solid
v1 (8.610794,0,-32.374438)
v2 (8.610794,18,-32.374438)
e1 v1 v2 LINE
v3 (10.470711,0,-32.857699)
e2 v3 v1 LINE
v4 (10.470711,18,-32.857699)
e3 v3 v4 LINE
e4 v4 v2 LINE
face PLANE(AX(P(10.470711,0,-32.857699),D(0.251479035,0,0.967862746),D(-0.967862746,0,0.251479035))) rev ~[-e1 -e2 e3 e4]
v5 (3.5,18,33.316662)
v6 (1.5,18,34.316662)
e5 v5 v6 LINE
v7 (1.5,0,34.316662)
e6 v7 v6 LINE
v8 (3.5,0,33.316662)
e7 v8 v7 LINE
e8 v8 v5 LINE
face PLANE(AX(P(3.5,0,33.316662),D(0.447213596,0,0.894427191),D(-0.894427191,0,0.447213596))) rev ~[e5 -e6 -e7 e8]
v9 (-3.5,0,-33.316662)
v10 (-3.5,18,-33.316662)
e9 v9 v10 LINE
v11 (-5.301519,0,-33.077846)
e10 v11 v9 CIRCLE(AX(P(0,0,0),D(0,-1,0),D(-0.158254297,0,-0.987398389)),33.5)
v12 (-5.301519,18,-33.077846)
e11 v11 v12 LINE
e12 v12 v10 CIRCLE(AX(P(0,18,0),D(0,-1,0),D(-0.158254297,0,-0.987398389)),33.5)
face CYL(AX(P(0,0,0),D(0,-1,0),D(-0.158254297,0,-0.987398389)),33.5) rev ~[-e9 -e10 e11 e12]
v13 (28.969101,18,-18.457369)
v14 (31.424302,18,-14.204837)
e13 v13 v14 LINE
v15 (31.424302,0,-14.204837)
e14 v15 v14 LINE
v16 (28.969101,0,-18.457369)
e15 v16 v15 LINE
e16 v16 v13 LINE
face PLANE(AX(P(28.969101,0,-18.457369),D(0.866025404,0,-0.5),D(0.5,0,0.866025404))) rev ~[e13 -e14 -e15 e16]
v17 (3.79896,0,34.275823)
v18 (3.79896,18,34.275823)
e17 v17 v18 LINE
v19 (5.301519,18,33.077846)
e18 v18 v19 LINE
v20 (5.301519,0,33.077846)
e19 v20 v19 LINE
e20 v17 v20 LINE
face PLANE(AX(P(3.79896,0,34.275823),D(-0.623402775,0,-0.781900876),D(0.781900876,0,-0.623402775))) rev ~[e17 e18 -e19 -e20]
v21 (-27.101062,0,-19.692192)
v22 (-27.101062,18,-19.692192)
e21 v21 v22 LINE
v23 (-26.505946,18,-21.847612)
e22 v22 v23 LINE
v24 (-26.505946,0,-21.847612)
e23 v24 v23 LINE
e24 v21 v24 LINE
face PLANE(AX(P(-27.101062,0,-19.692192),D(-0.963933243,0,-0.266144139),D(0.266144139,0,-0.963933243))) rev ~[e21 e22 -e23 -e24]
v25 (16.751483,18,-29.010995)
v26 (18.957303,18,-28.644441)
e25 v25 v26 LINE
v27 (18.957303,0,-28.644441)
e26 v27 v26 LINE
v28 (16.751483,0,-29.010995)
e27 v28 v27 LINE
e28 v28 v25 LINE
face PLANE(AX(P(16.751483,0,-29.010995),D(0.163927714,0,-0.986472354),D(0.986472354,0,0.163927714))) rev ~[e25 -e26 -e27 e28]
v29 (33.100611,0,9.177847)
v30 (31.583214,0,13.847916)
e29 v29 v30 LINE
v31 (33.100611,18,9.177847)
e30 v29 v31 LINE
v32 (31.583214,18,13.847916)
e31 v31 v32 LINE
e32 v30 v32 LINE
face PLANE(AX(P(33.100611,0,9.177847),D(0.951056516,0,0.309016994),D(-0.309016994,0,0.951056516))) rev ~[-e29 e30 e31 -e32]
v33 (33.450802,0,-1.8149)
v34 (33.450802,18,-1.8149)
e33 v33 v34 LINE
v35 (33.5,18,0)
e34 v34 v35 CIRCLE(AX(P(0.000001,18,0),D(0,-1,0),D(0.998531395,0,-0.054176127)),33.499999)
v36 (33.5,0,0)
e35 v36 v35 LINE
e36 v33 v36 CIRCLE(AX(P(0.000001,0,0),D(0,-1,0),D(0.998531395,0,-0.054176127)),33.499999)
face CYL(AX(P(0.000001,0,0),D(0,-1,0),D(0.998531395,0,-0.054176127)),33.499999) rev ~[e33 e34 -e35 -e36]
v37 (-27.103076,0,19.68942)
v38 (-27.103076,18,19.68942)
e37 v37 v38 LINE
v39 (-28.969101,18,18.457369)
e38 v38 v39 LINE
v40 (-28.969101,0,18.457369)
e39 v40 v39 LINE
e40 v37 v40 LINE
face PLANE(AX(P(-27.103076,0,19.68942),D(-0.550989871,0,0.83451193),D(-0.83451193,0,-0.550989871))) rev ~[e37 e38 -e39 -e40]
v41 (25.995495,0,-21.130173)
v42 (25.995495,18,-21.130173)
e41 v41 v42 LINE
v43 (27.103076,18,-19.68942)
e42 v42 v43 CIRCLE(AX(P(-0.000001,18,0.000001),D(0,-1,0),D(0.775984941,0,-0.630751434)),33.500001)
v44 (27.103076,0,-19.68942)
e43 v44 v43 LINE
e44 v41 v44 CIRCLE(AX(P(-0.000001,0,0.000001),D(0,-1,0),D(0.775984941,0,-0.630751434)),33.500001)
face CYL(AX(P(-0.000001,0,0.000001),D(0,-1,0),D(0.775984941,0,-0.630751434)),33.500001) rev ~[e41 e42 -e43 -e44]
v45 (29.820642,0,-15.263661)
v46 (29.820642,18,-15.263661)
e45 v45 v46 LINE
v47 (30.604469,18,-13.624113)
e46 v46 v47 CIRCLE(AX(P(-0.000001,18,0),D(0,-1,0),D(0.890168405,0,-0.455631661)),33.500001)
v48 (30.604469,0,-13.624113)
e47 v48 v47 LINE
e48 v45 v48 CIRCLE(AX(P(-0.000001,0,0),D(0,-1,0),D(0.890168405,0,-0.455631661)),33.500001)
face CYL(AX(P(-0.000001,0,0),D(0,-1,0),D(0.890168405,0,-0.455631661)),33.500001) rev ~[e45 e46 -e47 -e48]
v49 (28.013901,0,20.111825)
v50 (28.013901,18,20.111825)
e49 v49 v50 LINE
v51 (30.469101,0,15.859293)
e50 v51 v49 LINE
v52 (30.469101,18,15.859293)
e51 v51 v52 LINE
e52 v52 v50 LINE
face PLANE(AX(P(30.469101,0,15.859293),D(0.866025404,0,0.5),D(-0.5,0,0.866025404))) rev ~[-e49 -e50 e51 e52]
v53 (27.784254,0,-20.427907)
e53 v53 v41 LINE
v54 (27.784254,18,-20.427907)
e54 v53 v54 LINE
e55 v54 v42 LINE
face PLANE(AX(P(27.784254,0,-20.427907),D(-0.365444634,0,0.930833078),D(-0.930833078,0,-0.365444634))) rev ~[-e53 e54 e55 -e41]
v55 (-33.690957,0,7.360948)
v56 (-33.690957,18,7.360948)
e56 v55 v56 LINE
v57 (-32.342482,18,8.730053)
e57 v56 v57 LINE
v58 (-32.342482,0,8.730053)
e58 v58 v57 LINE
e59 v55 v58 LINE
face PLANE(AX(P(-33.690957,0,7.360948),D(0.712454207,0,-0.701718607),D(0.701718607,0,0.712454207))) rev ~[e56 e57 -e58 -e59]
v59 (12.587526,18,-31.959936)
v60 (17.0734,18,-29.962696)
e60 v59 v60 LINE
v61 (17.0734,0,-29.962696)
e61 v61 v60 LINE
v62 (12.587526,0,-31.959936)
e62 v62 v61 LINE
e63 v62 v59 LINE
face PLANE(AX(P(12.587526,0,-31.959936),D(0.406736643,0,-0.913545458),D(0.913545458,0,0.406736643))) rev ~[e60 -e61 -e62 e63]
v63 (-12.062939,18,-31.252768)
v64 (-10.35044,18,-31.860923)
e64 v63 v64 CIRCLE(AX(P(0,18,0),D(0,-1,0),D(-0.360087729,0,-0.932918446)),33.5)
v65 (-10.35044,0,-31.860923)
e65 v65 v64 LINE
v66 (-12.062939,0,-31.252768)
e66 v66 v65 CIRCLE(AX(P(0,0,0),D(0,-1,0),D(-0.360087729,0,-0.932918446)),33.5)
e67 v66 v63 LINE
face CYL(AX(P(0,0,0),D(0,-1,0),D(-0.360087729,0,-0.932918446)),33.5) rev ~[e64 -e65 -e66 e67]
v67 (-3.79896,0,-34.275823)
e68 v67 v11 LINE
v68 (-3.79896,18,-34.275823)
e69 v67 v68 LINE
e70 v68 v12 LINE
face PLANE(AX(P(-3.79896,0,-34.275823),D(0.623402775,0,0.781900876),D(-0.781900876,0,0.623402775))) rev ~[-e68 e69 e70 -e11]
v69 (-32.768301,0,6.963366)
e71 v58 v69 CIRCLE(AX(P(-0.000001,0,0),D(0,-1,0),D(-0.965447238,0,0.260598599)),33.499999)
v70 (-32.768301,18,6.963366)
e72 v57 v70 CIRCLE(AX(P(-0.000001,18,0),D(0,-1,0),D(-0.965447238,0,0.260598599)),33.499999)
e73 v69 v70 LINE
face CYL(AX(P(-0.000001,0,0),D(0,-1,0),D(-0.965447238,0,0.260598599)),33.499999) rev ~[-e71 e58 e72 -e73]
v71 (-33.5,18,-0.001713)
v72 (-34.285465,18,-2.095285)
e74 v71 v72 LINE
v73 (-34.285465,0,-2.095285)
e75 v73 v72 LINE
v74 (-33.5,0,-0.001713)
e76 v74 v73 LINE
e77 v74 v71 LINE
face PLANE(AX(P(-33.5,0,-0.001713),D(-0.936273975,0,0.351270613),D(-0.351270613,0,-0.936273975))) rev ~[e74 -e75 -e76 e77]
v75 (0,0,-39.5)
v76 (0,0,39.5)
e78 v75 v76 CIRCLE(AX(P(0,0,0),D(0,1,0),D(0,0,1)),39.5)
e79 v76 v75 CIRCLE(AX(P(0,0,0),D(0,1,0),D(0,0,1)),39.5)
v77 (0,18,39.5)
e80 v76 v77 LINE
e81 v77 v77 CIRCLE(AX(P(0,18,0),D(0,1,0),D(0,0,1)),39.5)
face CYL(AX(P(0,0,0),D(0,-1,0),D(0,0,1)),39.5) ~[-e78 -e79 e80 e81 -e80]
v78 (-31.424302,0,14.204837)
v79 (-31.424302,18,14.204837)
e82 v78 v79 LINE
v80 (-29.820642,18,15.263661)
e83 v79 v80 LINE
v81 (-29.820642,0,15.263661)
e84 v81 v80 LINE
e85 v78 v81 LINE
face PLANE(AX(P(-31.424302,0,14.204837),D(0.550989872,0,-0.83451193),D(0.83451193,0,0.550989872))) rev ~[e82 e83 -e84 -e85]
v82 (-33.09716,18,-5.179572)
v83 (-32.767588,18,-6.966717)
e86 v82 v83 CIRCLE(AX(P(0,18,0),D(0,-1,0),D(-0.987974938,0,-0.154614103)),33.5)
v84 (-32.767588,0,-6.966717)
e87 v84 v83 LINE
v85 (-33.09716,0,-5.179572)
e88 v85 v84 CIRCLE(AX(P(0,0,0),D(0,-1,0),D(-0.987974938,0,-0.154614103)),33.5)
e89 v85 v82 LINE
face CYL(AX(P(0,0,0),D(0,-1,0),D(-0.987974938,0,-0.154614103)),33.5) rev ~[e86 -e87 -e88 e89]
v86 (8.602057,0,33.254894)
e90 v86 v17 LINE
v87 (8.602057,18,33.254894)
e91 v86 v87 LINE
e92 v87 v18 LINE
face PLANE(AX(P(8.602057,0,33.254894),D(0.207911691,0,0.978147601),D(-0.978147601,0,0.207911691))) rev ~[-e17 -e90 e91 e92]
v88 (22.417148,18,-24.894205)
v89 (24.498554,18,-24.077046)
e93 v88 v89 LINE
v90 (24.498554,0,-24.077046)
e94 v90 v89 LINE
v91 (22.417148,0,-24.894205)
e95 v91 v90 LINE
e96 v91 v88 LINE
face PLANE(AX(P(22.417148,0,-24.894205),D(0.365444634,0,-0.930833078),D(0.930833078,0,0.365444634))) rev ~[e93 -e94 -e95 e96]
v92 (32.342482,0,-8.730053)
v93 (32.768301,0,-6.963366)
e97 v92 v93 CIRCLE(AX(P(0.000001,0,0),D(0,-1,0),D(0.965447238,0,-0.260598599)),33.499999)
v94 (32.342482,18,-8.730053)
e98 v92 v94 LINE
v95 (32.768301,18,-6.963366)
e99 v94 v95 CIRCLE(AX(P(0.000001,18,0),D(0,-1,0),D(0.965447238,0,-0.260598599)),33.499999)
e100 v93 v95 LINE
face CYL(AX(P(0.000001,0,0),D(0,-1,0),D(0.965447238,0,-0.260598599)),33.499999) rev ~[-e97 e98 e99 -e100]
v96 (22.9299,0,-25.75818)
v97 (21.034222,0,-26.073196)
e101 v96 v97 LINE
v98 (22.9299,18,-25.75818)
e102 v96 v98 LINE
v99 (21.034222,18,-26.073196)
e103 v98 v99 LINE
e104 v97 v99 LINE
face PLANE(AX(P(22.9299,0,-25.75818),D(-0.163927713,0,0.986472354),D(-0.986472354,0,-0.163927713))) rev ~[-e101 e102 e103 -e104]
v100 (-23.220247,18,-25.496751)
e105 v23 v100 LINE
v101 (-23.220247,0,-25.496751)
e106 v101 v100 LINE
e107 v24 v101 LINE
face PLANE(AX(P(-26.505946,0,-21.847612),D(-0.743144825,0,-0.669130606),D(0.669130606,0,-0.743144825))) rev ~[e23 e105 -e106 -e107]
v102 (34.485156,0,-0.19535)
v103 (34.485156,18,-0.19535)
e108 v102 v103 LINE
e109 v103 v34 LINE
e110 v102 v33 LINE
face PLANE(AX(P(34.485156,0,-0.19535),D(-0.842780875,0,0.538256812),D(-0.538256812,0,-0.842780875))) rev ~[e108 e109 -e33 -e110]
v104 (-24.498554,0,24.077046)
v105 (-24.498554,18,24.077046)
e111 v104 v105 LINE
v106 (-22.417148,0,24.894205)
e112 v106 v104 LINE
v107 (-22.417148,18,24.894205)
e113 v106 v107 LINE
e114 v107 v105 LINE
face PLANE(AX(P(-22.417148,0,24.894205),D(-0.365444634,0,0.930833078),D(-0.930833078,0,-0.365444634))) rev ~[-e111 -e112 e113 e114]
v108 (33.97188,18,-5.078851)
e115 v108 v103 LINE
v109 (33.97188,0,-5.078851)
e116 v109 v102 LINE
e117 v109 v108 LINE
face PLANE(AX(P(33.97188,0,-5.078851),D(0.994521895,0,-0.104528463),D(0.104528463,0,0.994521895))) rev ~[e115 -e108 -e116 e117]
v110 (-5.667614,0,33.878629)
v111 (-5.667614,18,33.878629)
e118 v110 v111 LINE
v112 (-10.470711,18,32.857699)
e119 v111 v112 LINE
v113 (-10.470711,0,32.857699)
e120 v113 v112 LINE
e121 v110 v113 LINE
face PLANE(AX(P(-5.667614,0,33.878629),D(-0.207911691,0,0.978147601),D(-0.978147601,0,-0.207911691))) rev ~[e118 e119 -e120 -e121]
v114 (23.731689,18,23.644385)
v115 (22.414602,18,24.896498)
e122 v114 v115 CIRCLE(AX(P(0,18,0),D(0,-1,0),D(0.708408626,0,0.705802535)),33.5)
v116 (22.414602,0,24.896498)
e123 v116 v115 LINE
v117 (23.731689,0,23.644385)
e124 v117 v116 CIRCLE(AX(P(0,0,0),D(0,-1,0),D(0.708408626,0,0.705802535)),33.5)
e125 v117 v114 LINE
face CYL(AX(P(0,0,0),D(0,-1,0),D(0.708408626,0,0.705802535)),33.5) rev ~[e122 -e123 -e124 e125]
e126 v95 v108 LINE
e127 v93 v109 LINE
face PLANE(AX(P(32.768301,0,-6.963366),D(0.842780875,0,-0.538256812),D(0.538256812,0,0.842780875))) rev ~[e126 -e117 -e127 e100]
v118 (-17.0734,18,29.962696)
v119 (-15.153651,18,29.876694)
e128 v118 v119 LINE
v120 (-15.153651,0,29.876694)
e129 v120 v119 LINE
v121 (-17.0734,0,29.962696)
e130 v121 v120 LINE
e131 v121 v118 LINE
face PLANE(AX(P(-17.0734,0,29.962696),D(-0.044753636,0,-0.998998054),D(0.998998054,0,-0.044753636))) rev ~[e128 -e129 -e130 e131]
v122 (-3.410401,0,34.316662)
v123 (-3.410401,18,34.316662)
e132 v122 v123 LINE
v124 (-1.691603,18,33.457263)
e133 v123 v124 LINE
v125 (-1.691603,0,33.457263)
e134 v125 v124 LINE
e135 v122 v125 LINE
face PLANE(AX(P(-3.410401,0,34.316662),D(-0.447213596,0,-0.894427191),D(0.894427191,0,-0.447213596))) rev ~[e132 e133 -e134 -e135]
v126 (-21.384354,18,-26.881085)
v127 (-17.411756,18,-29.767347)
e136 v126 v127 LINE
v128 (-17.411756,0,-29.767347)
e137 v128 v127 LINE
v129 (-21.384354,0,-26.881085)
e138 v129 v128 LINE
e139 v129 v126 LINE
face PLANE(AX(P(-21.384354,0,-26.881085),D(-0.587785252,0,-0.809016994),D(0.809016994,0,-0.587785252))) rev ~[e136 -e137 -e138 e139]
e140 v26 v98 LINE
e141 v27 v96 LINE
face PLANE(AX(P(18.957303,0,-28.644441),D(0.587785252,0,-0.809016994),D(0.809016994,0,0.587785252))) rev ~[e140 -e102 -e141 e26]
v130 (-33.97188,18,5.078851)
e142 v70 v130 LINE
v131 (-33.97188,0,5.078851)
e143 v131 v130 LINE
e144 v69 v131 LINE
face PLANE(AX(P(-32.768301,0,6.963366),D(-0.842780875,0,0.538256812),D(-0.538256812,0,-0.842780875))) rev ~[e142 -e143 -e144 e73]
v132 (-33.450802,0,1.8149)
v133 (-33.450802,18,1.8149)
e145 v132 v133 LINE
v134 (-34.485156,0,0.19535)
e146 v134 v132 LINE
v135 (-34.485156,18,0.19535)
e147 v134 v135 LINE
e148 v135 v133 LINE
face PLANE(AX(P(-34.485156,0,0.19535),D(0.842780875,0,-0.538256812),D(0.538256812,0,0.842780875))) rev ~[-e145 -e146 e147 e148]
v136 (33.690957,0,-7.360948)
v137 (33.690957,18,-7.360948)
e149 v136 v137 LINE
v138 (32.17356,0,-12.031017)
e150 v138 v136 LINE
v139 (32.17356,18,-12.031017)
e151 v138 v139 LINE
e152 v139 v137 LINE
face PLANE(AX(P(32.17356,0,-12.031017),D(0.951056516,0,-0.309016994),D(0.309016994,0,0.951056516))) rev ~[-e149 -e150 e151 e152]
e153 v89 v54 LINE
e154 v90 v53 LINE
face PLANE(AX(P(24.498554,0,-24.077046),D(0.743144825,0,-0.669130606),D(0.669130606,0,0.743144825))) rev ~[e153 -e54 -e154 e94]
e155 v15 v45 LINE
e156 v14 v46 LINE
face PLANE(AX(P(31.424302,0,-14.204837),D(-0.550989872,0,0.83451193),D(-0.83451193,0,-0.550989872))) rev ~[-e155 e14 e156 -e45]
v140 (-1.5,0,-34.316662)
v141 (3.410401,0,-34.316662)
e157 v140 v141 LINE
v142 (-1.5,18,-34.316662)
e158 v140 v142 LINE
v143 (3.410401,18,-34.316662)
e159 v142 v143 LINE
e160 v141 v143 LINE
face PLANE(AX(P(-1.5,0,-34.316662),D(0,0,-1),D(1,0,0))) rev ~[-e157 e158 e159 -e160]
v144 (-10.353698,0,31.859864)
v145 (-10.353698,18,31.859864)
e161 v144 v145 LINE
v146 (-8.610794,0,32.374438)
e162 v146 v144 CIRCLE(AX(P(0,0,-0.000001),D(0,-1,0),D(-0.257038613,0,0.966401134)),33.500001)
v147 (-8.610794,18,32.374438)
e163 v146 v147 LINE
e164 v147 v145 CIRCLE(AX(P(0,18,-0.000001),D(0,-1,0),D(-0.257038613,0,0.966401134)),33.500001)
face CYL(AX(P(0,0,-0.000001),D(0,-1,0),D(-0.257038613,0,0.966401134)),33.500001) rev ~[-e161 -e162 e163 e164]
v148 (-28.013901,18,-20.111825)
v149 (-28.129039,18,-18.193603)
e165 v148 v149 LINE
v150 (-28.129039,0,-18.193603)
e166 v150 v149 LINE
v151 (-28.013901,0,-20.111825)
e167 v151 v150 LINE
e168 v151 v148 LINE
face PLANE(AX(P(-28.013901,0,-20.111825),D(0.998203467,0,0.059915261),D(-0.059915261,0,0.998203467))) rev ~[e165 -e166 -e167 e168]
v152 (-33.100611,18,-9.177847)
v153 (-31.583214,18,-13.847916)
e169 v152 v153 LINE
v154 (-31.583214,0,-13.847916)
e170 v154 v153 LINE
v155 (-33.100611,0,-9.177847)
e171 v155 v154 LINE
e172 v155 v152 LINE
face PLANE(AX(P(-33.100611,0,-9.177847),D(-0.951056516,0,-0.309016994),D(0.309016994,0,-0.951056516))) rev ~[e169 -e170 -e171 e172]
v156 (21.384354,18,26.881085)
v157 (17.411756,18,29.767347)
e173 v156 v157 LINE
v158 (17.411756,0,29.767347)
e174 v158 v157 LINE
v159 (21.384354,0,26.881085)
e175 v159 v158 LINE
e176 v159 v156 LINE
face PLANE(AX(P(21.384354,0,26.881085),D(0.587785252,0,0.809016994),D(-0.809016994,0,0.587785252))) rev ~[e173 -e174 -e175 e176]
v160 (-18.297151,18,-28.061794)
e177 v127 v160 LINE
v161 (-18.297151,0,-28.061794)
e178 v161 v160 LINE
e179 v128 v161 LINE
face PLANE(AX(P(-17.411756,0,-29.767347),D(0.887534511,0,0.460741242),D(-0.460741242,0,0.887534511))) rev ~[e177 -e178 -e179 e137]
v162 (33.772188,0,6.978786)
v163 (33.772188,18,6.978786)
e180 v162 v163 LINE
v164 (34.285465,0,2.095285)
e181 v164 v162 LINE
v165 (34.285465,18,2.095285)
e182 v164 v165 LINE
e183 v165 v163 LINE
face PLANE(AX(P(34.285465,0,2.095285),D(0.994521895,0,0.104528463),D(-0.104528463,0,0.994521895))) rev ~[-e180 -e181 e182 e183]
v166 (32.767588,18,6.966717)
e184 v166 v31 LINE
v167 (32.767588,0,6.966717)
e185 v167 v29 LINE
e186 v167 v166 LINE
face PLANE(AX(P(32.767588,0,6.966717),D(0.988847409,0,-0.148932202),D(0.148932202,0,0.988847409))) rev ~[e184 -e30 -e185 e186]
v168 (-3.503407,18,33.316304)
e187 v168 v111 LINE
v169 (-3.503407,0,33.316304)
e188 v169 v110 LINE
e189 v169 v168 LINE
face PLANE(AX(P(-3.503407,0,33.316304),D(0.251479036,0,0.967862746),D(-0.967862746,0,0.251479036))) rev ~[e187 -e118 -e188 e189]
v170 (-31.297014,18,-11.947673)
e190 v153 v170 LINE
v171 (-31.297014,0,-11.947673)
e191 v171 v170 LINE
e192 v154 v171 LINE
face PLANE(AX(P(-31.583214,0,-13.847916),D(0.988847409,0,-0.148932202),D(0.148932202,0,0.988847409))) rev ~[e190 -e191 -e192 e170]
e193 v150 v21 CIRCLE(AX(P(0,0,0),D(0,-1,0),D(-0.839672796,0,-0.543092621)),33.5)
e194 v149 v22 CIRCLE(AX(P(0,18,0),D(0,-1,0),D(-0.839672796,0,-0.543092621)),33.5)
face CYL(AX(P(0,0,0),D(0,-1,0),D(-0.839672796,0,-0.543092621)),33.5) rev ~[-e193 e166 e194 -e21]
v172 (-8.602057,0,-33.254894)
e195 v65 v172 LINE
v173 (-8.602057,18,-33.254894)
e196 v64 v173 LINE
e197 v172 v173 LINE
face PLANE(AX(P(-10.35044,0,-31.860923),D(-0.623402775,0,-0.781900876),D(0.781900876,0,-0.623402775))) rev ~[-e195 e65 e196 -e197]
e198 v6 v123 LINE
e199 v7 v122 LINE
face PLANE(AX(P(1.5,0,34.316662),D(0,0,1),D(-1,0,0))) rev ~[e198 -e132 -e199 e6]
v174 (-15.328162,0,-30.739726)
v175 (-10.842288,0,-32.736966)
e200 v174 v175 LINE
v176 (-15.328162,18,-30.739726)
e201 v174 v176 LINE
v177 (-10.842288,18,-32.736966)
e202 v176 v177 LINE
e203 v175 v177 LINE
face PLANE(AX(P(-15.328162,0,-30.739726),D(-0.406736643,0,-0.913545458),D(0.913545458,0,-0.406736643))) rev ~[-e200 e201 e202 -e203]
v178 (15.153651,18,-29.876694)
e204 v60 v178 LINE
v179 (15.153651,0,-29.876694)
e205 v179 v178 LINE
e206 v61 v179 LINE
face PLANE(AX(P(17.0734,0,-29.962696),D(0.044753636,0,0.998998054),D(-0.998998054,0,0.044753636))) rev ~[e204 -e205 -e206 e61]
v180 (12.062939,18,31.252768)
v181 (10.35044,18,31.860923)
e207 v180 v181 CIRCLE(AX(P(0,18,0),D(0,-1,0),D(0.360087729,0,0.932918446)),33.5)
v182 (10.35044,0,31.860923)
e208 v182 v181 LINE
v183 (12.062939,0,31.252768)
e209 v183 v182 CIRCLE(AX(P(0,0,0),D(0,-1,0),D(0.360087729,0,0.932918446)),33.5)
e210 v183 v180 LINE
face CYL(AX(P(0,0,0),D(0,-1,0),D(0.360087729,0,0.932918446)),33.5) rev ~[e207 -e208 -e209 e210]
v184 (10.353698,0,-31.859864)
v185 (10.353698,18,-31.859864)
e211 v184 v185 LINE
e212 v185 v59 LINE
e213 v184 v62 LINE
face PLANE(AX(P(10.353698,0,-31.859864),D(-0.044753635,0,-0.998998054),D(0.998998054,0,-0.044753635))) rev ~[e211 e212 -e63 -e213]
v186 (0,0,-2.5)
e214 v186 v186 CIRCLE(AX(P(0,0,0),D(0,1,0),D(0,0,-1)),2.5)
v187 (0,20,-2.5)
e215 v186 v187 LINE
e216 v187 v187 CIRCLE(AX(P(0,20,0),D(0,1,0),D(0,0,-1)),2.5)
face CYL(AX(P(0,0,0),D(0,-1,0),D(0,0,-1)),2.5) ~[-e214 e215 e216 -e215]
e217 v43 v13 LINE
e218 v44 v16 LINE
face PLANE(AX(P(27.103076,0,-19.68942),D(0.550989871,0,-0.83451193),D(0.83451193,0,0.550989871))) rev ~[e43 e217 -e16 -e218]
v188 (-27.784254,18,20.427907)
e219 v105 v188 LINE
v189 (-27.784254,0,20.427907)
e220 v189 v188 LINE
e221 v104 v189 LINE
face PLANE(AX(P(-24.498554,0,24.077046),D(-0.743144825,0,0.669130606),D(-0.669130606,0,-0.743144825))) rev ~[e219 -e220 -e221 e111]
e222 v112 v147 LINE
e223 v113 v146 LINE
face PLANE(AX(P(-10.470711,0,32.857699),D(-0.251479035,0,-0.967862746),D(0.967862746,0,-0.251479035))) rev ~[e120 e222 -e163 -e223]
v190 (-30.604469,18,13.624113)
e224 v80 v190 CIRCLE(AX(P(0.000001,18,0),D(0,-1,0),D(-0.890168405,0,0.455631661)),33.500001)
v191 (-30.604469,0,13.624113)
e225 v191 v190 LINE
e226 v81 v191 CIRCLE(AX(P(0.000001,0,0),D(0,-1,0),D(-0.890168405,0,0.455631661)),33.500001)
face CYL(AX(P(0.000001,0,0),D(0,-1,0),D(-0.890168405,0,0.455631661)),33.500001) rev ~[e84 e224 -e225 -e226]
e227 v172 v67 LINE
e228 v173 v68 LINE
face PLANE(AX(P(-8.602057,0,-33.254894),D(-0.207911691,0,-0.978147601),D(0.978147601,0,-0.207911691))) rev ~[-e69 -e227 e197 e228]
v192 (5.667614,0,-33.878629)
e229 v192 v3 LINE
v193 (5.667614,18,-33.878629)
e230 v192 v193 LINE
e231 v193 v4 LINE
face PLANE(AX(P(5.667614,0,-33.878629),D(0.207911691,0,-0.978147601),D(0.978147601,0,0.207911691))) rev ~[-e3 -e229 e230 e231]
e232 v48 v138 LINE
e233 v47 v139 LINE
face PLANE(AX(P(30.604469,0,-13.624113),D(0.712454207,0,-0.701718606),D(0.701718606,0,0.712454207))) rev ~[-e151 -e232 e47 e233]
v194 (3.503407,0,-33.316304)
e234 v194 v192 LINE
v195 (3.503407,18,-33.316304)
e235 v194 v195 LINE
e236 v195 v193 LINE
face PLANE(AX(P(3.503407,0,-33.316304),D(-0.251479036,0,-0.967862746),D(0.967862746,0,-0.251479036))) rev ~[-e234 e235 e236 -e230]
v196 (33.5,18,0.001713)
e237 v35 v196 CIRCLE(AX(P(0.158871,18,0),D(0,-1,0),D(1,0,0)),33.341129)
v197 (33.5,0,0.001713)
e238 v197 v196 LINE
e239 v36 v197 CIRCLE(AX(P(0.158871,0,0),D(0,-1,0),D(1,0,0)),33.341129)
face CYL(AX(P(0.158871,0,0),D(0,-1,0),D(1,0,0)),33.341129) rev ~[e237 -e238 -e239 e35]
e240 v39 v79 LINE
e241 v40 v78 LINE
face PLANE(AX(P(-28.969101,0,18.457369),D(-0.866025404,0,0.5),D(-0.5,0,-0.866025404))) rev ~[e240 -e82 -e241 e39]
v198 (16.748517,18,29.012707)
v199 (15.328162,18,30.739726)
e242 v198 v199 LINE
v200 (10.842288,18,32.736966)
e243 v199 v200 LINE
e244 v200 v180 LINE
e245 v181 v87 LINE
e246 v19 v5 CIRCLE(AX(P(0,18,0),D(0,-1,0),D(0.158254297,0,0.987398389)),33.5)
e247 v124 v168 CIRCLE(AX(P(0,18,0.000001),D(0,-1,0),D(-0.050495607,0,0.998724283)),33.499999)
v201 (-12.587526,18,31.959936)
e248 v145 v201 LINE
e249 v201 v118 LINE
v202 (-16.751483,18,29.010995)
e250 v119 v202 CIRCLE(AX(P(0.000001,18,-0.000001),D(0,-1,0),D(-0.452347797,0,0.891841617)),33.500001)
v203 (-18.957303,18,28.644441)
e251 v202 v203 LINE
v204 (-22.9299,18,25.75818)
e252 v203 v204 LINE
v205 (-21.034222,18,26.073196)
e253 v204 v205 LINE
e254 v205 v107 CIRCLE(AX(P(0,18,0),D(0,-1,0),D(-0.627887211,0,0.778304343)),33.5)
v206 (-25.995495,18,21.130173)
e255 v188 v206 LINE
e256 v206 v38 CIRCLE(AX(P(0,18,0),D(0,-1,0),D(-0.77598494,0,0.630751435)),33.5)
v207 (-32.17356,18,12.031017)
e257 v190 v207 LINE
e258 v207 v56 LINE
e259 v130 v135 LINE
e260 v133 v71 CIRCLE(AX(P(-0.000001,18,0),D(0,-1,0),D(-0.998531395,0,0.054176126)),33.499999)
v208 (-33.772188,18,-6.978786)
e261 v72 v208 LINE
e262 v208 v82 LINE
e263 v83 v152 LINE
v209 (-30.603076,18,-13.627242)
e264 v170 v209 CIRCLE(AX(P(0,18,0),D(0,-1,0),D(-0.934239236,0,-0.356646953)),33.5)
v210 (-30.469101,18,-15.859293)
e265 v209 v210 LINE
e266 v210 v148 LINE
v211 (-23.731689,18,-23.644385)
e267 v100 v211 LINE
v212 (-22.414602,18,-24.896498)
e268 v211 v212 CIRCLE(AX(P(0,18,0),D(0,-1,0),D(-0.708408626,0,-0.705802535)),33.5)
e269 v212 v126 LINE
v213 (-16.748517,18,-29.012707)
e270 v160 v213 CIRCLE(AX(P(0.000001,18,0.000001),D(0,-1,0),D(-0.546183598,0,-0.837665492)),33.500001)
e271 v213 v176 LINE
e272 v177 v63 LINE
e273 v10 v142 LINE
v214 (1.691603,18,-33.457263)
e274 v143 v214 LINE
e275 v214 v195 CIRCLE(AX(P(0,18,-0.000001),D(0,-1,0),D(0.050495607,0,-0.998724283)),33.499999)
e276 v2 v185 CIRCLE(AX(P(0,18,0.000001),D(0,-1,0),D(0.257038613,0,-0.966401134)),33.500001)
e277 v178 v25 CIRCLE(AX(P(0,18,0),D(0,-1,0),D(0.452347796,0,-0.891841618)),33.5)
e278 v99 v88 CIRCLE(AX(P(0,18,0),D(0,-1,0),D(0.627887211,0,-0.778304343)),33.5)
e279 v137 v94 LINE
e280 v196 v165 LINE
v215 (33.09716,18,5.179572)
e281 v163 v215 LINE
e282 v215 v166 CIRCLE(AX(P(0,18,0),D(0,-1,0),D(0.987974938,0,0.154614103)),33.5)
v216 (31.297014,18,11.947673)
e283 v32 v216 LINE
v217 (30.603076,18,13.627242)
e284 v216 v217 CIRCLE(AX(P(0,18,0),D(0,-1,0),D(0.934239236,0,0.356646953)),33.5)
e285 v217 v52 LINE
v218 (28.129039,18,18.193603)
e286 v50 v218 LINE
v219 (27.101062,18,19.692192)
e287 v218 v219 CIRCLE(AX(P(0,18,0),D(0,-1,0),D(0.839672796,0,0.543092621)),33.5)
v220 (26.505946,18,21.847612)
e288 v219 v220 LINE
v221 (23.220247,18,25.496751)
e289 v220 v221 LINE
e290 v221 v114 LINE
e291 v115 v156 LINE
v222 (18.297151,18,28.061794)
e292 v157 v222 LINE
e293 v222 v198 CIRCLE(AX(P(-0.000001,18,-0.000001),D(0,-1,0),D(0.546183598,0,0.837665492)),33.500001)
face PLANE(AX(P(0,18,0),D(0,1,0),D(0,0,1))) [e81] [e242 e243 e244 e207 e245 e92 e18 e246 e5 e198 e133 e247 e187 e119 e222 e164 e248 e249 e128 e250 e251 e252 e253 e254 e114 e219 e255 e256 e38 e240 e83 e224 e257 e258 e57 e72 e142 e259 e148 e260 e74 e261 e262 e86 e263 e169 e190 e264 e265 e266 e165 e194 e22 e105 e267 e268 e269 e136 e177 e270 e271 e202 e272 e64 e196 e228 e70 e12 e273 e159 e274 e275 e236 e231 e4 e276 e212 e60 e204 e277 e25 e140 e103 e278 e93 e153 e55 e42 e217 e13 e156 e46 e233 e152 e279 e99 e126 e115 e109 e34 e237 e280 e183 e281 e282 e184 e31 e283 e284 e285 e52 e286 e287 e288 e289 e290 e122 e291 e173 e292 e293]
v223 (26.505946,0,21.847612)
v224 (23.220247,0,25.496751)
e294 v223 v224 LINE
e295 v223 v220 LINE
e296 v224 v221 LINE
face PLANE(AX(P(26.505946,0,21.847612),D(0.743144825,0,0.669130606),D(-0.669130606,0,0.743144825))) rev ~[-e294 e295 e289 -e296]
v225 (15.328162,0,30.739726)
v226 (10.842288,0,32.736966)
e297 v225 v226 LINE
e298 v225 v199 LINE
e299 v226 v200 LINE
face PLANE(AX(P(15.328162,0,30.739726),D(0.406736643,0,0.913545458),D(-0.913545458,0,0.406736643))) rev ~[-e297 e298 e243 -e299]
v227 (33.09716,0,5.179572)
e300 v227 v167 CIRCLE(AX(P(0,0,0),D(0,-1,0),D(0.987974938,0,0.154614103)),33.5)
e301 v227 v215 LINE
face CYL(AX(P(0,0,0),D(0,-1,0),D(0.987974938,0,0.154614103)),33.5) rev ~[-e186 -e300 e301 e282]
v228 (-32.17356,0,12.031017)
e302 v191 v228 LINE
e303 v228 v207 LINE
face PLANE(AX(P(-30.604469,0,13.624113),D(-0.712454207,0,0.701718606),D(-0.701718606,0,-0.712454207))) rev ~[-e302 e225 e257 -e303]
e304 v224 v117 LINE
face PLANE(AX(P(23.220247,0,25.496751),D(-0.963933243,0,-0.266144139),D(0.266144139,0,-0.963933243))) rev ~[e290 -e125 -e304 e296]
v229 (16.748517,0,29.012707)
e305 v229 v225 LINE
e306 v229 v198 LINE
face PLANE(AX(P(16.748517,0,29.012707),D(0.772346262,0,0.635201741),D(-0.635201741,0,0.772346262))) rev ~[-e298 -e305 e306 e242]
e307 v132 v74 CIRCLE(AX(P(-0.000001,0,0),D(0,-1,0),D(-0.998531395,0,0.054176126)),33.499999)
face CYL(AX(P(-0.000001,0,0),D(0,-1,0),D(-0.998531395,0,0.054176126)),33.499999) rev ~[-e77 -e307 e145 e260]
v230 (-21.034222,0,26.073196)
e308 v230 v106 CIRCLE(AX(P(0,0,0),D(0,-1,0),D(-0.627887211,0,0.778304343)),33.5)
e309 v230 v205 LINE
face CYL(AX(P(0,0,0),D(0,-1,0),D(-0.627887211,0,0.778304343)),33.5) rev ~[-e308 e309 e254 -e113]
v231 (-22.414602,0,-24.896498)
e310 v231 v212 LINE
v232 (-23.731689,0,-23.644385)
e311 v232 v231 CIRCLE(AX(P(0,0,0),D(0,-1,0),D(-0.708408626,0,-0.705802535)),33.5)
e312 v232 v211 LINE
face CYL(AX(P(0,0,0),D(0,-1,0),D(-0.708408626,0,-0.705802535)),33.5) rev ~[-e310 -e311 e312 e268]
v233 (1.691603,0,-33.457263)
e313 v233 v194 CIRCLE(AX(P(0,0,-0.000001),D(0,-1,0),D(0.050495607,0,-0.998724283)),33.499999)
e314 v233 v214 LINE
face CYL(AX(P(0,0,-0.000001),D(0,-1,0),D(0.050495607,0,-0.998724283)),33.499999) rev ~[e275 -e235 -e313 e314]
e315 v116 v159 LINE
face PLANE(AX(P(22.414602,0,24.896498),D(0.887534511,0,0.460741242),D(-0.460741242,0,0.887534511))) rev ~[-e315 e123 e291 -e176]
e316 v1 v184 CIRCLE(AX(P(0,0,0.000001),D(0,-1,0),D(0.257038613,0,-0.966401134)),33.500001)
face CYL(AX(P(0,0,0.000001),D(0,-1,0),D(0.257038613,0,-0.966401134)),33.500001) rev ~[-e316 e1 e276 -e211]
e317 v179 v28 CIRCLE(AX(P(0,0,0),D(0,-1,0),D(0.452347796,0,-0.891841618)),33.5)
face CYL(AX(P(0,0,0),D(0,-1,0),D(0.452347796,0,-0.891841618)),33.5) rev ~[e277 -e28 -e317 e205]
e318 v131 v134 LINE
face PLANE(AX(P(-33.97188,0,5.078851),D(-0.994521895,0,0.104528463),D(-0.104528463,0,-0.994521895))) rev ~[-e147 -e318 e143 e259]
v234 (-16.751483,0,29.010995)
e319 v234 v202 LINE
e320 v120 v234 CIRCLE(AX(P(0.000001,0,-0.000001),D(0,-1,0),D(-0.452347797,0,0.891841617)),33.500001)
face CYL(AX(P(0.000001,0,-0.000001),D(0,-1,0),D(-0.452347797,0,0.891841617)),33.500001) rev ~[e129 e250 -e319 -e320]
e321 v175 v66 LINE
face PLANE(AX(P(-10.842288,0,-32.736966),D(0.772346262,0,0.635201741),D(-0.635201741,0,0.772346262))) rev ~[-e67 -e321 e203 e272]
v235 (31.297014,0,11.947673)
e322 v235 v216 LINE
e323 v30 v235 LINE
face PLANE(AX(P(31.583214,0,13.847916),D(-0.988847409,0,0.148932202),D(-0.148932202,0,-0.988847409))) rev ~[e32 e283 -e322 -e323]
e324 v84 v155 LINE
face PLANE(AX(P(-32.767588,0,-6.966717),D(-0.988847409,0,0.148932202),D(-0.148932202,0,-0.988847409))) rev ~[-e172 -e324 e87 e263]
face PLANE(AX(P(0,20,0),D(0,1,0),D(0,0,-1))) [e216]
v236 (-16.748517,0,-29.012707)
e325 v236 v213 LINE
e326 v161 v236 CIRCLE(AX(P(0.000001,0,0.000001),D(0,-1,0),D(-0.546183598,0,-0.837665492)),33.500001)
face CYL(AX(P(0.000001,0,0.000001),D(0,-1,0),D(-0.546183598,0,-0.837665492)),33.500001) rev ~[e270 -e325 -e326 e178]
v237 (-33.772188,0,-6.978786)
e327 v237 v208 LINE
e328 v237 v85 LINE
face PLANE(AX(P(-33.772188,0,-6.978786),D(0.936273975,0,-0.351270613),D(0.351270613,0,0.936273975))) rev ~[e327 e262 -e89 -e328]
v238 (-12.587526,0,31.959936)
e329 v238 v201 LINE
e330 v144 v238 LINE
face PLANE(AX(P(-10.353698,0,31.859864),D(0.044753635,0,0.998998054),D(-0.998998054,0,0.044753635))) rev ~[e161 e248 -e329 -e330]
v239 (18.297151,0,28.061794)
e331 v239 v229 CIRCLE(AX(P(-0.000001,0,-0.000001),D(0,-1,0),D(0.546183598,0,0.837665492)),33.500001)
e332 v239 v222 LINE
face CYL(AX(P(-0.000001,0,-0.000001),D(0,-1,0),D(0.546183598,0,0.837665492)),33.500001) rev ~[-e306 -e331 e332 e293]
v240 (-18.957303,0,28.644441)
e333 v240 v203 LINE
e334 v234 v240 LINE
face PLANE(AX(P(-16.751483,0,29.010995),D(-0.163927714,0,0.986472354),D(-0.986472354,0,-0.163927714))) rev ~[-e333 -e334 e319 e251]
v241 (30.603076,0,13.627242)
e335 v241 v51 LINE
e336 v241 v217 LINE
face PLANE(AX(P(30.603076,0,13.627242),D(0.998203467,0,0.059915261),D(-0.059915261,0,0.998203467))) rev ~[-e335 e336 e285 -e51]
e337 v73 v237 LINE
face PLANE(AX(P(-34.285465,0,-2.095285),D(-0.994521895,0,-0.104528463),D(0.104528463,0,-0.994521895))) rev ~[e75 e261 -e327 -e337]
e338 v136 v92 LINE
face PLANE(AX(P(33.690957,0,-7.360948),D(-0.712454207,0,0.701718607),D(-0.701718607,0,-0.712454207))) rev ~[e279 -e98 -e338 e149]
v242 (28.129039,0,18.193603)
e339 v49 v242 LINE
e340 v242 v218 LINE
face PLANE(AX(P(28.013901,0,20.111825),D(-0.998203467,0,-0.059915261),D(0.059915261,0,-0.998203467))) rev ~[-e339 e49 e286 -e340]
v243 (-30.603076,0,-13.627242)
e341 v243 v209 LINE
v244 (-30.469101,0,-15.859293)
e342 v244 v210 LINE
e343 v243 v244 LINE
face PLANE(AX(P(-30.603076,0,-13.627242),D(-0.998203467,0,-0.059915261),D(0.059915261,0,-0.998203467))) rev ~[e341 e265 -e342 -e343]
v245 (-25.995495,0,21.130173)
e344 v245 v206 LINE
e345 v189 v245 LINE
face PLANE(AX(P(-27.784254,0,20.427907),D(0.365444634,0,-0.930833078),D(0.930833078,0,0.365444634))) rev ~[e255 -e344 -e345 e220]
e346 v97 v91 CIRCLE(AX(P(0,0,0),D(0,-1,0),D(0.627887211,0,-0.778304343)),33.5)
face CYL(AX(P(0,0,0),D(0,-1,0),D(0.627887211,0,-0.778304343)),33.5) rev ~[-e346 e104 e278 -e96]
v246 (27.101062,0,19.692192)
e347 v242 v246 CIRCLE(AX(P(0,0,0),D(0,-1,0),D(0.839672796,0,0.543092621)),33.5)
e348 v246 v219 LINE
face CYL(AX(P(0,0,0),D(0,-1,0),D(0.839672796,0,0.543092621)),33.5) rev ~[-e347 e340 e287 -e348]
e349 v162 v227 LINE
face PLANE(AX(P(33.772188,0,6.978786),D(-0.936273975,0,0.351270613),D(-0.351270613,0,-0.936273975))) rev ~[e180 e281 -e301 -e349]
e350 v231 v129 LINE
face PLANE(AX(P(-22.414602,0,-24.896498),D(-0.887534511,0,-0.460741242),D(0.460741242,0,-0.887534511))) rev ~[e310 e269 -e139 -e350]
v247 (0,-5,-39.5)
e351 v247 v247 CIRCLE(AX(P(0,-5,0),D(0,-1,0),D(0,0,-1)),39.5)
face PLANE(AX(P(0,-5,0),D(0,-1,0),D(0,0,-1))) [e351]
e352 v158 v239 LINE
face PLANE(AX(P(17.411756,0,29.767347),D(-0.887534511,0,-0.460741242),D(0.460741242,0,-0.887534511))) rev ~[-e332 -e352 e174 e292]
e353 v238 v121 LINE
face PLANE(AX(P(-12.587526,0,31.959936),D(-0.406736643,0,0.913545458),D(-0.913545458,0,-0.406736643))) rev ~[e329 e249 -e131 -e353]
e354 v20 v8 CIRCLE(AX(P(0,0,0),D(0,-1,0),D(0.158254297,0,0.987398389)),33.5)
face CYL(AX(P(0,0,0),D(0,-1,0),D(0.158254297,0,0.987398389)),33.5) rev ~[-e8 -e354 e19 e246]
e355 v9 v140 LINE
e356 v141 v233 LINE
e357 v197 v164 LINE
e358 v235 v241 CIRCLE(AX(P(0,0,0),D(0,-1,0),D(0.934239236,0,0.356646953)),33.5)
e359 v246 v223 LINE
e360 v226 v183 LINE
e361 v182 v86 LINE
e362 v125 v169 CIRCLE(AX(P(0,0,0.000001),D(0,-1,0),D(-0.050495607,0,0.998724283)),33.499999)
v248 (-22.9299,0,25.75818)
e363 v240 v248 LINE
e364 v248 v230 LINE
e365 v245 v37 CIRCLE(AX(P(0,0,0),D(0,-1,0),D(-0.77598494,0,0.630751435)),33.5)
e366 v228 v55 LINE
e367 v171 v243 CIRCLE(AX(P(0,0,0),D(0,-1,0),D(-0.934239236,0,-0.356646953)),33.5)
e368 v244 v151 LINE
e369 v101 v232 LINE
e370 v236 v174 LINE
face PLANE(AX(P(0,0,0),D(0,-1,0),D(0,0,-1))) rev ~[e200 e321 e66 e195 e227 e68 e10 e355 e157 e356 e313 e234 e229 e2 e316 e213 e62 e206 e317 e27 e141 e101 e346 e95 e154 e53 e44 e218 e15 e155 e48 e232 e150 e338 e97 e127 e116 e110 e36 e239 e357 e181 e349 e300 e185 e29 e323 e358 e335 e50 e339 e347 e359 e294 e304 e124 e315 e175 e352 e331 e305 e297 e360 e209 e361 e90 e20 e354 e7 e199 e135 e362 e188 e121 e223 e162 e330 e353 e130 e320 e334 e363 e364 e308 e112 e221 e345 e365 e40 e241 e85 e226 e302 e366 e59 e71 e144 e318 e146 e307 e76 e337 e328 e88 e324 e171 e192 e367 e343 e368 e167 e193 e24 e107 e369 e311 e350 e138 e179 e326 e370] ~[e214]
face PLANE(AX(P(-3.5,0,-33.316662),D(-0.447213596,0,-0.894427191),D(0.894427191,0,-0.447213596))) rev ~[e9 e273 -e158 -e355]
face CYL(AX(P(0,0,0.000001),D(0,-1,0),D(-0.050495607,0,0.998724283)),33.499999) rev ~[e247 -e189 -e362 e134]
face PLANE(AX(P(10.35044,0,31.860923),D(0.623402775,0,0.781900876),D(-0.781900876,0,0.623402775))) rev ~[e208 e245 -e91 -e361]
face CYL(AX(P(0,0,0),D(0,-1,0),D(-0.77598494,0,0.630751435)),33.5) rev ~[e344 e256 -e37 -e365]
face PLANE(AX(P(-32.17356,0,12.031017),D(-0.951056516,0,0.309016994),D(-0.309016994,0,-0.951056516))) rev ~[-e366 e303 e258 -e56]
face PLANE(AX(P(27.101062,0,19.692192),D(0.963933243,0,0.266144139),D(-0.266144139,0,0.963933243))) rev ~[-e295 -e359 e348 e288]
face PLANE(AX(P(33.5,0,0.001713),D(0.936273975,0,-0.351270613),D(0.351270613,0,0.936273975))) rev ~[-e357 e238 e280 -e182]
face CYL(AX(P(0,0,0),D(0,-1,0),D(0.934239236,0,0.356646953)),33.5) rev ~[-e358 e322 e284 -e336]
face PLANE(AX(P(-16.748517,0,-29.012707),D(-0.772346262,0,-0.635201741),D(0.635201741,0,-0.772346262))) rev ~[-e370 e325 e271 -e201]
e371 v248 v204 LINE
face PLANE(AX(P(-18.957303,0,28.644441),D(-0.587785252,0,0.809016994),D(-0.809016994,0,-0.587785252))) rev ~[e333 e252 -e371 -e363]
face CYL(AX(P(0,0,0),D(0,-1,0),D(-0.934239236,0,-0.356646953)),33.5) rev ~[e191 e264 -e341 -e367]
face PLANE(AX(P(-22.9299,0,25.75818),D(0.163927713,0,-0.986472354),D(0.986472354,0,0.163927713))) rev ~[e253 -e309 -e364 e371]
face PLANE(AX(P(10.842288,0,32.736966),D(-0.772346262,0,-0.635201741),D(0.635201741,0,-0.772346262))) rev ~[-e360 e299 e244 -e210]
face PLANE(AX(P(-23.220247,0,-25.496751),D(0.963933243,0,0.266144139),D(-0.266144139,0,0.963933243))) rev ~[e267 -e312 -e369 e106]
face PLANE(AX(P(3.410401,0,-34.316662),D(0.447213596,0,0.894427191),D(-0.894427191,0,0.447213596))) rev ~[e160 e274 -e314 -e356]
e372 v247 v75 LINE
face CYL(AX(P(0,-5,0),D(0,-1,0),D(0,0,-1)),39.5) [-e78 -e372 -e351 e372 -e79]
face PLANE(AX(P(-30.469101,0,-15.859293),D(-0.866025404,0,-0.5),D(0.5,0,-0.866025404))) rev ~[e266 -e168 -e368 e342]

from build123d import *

# Parameters (mm, degrees)
SKETCH1_R           = 39.5
BOSS_EXTRUDE1_DEPTH = 18
BOSS_EXTRUDE2_START = 5
SKETCH2_R           = 39.5
BOSS_EXTRUDE2_DEPTH = 5
SKETCH3_R           = 2.5
BOSS_EXTRUDE3_DEPTH = 20


with BuildPart() as part:
    # Sketch1 → Boss-Extrude1 (new body)
    with BuildSketch(Plane(origin=(0, 0, 0), x_dir=(1, 0, 0), z_dir=(0, 1, 0))):
        with Locations(Location((0, 0, 0), (0, 0, 270))):
            Circle(SKETCH1_R)
        with BuildLine():
            ThreePointArc((-5.301518913, 33.077846018), (-4.402379143, 33.209472412), (-3.5, 33.316662498))
            Line((-3.5, 33.316662498), (-1.5, 34.316662498))
            Line((-1.5, 34.316662498), (3.410400922, 34.316662498))
            Line((3.410400922, 34.316662498), (1.691602889, 33.457263481))
            ThreePointArc((1.691602889, 33.457263481), (2.598460964, 33.399071853), (3.50340703, 33.316304405))
            Line((3.50340703, 33.316304405), (5.667613922, 33.878628624))
            Line((5.667613922, 33.878628624), (10.470710803, 32.857698865))
            Line((10.470710803, 32.857698865), (8.610793528, 32.374437985))
            ThreePointArc((8.610793528, 32.374437985), (9.485735858, 32.128971587), (10.353698361, 31.85986394))
            Line((10.353698361, 31.85986394), (12.58752592, 31.959936111))
            Line((12.58752592, 31.959936111), (17.073400377, 29.962696124))
            Line((17.073400377, 29.962696124), (15.153651171, 29.876694198))
            ThreePointArc((15.153651171, 29.876694198), (15.958438578, 29.454681091), (16.751483392, 29.01099454))
            Line((16.751483392, 29.01099454), (18.957302633, 28.644441029))
            Line((18.957302633, 28.644441029), (22.929900428, 25.758179785))
            Line((22.929900428, 25.758179785), (21.034221542, 26.073195511))
            ThreePointArc((21.034221542, 26.073195511), (21.733680954, 25.493079692), (22.417148215, 24.894205468))
            Line((22.417148215, 24.894205468), (24.498554253, 24.077046424))
            Line((24.498554253, 24.077046424), (27.7842538, 20.427907387))
            Line((27.7842538, 20.427907387), (25.995495498, 21.130173066))
            ThreePointArc((25.995495498, 21.130173066), (26.559057183, 20.417308381), (27.103076093, 19.689420162))
            Line((27.103076093, 19.689420162), (28.969101496, 18.457369355))
            Line((28.969101496, 18.457369355), (31.424301957, 14.204837413))
            Line((31.424301957, 14.204837413), (29.820641561, 15.263660665))
            ThreePointArc((29.820641561, 15.263660665), (30.223675169, 14.449202721), (30.60446949, 13.624112715))
            Line((30.60446949, 13.624112715), (32.173559995, 12.031016677))
            Line((32.173559995, 12.031016677), (33.690957329, 7.360947882))
            Line((33.690957329, 7.360947882), (32.342482492, 8.73005305))
            ThreePointArc((32.342482492, 8.73005305), (32.567373521, 7.849597567), (32.768300713, 6.963366166))
            Line((32.768300713, 6.963366166), (33.971879535, 5.078850838))
            Line((33.971879535, 5.078850838), (34.485156198, 0.195349606))
            Line((34.485156198, 0.195349606), (33.450801742, 1.814900225))
            ThreePointArc((33.450801742, 1.814900225), (33.487698177, 0.907783468), (33.5, 0))
            ThreePointArc((33.5, 0), (33.499999989, -0.000856449), (33.499999956, -0.001712898))
            Line((33.499999956, -0.001712898), (34.285464925, -2.095285152))
            Line((34.285464925, -2.095285152), (33.772188263, -6.978786385))
            Line((33.772188263, -6.978786385), (33.097160441, -5.179572449))
            ThreePointArc((33.097160441, -5.179572449), (32.944495111, -6.075379978), (32.76758845, -6.966717101))
            Line((32.76758845, -6.966717101), (33.100610978, -9.177847128))
            Line((33.100610978, -9.177847128), (31.583213644, -13.847915922))
            Line((31.583213644, -13.847915922), (31.297014411, -11.947672952))
            ThreePointArc((31.297014411, -11.947672952), (30.961436327, -12.792164031), (30.603076093, -13.627242336))
            Line((30.603076093, -13.627242336), (30.469101496, -15.859293143))
            Line((30.469101496, -15.859293143), (28.013901035, -20.111825085))
            Line((28.013901035, -20.111825085), (28.129038671, -18.193602816))
            ThreePointArc((28.129038671, -18.193602816), (27.625214205, -18.949869132), (27.10106246, -19.69219169))
            Line((27.10106246, -19.69219169), (26.505946073, -21.847611947))
            Line((26.505946073, -21.847611947), (23.220246526, -25.496750984))
            Line((23.220246526, -25.496750984), (23.731688964, -23.644384934))
            ThreePointArc((23.731688964, -23.644384934), (23.081637663, -24.27937402), (22.414602352, -24.896497774))
            Line((22.414602352, -24.896497774), (21.384353616, -26.881085273))
            Line((21.384353616, -26.881085273), (17.41175582, -29.767346518))
            Line((17.41175582, -29.767346518), (18.297150571, -28.061793973))
            ThreePointArc((18.297150571, -28.061793973), (17.529282796, -28.547753758), (16.748516565, -29.012707438))
            Line((16.748516565, -29.012707438), (15.328162292, -30.739726182))
            Line((15.328162292, -30.739726182), (10.842287835, -32.736966169))
            Line((10.842287835, -32.736966169), (12.062938899, -31.252767959))
            ThreePointArc((12.062938899, -31.252767959), (11.210814157, -31.56845967), (10.350440235, -31.860922569))
            Line((10.350440235, -31.860922569), (8.602056724, -33.254893551))
            Line((8.602056724, -33.254893551), (3.798959843, -34.27582331))
            Line((3.798959843, -34.27582331), (5.301518913, -33.077846018))
            ThreePointArc((5.301518913, -33.077846018), (4.402379143, -33.209472412), (3.5, -33.316662498))
            Line((3.5, -33.316662498), (1.5, -34.316662498))
            Line((1.5, -34.316662498), (-3.410400922, -34.316662498))
            Line((-3.410400922, -34.316662498), (-1.691602889, -33.457263481))
            ThreePointArc((-1.691602889, -33.457263481), (-2.598460964, -33.399071853), (-3.50340703, -33.316304405))
            Line((-3.50340703, -33.316304405), (-5.667613922, -33.878628624))
            Line((-5.667613922, -33.878628624), (-10.470710803, -32.857698865))
            Line((-10.470710803, -32.857698865), (-8.610793528, -32.374437985))
            ThreePointArc((-8.610793528, -32.374437985), (-9.485735858, -32.128971587), (-10.353698361, -31.85986394))
            Line((-10.353698361, -31.85986394), (-12.587525919, -31.959936111))
            Line((-12.587525919, -31.959936111), (-17.073400377, -29.962696124))
            Line((-17.073400377, -29.962696124), (-15.153651171, -29.876694198))
            ThreePointArc((-15.153651171, -29.876694198), (-15.958438577, -29.454681091), (-16.751483392, -29.01099454))
            Line((-16.751483392, -29.01099454), (-18.957302633, -28.644441029))
            Line((-18.957302633, -28.644441029), (-22.929900428, -25.758179785))
            Line((-22.929900428, -25.758179785), (-21.034221542, -26.073195511))
            ThreePointArc((-21.034221542, -26.073195511), (-21.733680954, -25.493079692), (-22.417148215, -24.894205468))
            Line((-22.417148215, -24.894205468), (-24.498554253, -24.077046424))
            Line((-24.498554253, -24.077046424), (-27.7842538, -20.427907387))
            Line((-27.7842538, -20.427907387), (-25.995495498, -21.130173066))
            ThreePointArc((-25.995495498, -21.130173066), (-26.559057183, -20.417308381), (-27.103076092, -19.689420162))
            Line((-27.103076092, -19.689420162), (-28.969101496, -18.457369355))
            Line((-28.969101496, -18.457369355), (-31.424301957, -14.204837413))
            Line((-31.424301957, -14.204837413), (-29.820641561, -15.263660665))
            ThreePointArc((-29.820641561, -15.263660665), (-30.223675169, -14.449202721), (-30.60446949, -13.624112715))
            Line((-30.60446949, -13.624112715), (-32.173559995, -12.031016677))
            Line((-32.173559995, -12.031016677), (-33.690957329, -7.360947882))
            Line((-33.690957329, -7.360947882), (-32.342482492, -8.73005305))
            ThreePointArc((-32.342482492, -8.73005305), (-32.567373521, -7.849597567), (-32.768300713, -6.963366166))
            Line((-32.768300713, -6.963366166), (-33.971879535, -5.078850838))
            Line((-33.971879535, -5.078850838), (-34.485156198, -0.195349606))
            Line((-34.485156198, -0.195349606), (-33.450801742, -1.814900225))
            ThreePointArc((-33.450801742, -1.814900225), (-33.487721374, -0.906927333), (-33.499999956, 0.001712898))
            Line((-33.499999956, 0.001712898), (-34.285464925, 2.095285152))
            Line((-34.285464925, 2.095285152), (-33.772188263, 6.978786385))
            Line((-33.772188263, 6.978786385), (-33.097160441, 5.179572449))
            ThreePointArc((-33.097160441, 5.179572449), (-32.944495111, 6.075379978), (-32.76758845, 6.966717101))
            Line((-32.76758845, 6.966717101), (-33.100610978, 9.177847128))
            Line((-33.100610978, 9.177847128), (-31.583213644, 13.847915922))
            Line((-31.583213644, 13.847915922), (-31.297014411, 11.947672952))
            ThreePointArc((-31.297014411, 11.947672952), (-30.961436327, 12.792164031), (-30.603076093, 13.627242336))
            Line((-30.603076092, 13.627242336), (-30.469101496, 15.859293143))
            Line((-30.469101496, 15.859293143), (-28.013901035, 20.111825085))
            Line((-28.013901035, 20.111825085), (-28.129038671, 18.193602816))
            ThreePointArc((-28.129038671, 18.193602816), (-27.625214205, 18.949869132), (-27.10106246, 19.69219169))
            Line((-27.10106246, 19.69219169), (-26.505946073, 21.847611947))
            Line((-26.505946073, 21.847611947), (-23.220246526, 25.496750984))
            Line((-23.220246526, 25.496750984), (-23.731688964, 23.644384934))
            ThreePointArc((-23.731688964, 23.644384934), (-23.081637663, 24.27937402), (-22.414602352, 24.896497774))
            Line((-22.414602352, 24.896497774), (-21.384353616, 26.881085273))
            Line((-21.384353616, 26.881085273), (-17.41175582, 29.767346518))
            Line((-17.41175582, 29.767346518), (-18.297150571, 28.061793973))
            ThreePointArc((-18.297150571, 28.061793973), (-17.529282796, 28.547753758), (-16.748516565, 29.012707438))
            Line((-16.748516565, 29.012707438), (-15.328162292, 30.739726182))
            Line((-15.328162292, 30.739726182), (-10.842287835, 32.736966169))
            Line((-10.842287835, 32.736966169), (-12.062938899, 31.252767959))
            ThreePointArc((-12.062938899, 31.252767959), (-11.210814157, 31.56845967), (-10.350440235, 31.860922569))
            Line((-10.350440235, 31.860922569), (-8.602056724, 33.254893551))
            Line((-8.602056724, 33.254893551), (-3.798959843, 34.27582331))
            Line((-3.798959843, 34.27582331), (-5.301518913, 33.077846018))
        make_face(mode=Mode.SUBTRACT)
    extrude(amount=BOSS_EXTRUDE1_DEPTH)

    # Sketch2 → Boss-Extrude2 (add)
    with BuildSketch(Plane(origin=(0, 0, 0), x_dir=(-1, 0, 0), z_dir=(0, -1, 0)).offset(BOSS_EXTRUDE2_START)):
        with Locations(Location((0, 0, 0), (0, 0, 90))):
            Circle(SKETCH2_R)
    extrude(amount=-BOSS_EXTRUDE2_DEPTH)

    # Sketch3 → Boss-Extrude3 (add)
    with BuildSketch(Plane(origin=(0, 0, 0), x_dir=(1, 0, 0), z_dir=(0, 1, 0))):
        with Locations(Location((0, 0, 0), (0, 0, 90))):
            Circle(SKETCH3_R)
    extrude(amount=BOSS_EXTRUDE3_DEPTH)


solid = part.part
